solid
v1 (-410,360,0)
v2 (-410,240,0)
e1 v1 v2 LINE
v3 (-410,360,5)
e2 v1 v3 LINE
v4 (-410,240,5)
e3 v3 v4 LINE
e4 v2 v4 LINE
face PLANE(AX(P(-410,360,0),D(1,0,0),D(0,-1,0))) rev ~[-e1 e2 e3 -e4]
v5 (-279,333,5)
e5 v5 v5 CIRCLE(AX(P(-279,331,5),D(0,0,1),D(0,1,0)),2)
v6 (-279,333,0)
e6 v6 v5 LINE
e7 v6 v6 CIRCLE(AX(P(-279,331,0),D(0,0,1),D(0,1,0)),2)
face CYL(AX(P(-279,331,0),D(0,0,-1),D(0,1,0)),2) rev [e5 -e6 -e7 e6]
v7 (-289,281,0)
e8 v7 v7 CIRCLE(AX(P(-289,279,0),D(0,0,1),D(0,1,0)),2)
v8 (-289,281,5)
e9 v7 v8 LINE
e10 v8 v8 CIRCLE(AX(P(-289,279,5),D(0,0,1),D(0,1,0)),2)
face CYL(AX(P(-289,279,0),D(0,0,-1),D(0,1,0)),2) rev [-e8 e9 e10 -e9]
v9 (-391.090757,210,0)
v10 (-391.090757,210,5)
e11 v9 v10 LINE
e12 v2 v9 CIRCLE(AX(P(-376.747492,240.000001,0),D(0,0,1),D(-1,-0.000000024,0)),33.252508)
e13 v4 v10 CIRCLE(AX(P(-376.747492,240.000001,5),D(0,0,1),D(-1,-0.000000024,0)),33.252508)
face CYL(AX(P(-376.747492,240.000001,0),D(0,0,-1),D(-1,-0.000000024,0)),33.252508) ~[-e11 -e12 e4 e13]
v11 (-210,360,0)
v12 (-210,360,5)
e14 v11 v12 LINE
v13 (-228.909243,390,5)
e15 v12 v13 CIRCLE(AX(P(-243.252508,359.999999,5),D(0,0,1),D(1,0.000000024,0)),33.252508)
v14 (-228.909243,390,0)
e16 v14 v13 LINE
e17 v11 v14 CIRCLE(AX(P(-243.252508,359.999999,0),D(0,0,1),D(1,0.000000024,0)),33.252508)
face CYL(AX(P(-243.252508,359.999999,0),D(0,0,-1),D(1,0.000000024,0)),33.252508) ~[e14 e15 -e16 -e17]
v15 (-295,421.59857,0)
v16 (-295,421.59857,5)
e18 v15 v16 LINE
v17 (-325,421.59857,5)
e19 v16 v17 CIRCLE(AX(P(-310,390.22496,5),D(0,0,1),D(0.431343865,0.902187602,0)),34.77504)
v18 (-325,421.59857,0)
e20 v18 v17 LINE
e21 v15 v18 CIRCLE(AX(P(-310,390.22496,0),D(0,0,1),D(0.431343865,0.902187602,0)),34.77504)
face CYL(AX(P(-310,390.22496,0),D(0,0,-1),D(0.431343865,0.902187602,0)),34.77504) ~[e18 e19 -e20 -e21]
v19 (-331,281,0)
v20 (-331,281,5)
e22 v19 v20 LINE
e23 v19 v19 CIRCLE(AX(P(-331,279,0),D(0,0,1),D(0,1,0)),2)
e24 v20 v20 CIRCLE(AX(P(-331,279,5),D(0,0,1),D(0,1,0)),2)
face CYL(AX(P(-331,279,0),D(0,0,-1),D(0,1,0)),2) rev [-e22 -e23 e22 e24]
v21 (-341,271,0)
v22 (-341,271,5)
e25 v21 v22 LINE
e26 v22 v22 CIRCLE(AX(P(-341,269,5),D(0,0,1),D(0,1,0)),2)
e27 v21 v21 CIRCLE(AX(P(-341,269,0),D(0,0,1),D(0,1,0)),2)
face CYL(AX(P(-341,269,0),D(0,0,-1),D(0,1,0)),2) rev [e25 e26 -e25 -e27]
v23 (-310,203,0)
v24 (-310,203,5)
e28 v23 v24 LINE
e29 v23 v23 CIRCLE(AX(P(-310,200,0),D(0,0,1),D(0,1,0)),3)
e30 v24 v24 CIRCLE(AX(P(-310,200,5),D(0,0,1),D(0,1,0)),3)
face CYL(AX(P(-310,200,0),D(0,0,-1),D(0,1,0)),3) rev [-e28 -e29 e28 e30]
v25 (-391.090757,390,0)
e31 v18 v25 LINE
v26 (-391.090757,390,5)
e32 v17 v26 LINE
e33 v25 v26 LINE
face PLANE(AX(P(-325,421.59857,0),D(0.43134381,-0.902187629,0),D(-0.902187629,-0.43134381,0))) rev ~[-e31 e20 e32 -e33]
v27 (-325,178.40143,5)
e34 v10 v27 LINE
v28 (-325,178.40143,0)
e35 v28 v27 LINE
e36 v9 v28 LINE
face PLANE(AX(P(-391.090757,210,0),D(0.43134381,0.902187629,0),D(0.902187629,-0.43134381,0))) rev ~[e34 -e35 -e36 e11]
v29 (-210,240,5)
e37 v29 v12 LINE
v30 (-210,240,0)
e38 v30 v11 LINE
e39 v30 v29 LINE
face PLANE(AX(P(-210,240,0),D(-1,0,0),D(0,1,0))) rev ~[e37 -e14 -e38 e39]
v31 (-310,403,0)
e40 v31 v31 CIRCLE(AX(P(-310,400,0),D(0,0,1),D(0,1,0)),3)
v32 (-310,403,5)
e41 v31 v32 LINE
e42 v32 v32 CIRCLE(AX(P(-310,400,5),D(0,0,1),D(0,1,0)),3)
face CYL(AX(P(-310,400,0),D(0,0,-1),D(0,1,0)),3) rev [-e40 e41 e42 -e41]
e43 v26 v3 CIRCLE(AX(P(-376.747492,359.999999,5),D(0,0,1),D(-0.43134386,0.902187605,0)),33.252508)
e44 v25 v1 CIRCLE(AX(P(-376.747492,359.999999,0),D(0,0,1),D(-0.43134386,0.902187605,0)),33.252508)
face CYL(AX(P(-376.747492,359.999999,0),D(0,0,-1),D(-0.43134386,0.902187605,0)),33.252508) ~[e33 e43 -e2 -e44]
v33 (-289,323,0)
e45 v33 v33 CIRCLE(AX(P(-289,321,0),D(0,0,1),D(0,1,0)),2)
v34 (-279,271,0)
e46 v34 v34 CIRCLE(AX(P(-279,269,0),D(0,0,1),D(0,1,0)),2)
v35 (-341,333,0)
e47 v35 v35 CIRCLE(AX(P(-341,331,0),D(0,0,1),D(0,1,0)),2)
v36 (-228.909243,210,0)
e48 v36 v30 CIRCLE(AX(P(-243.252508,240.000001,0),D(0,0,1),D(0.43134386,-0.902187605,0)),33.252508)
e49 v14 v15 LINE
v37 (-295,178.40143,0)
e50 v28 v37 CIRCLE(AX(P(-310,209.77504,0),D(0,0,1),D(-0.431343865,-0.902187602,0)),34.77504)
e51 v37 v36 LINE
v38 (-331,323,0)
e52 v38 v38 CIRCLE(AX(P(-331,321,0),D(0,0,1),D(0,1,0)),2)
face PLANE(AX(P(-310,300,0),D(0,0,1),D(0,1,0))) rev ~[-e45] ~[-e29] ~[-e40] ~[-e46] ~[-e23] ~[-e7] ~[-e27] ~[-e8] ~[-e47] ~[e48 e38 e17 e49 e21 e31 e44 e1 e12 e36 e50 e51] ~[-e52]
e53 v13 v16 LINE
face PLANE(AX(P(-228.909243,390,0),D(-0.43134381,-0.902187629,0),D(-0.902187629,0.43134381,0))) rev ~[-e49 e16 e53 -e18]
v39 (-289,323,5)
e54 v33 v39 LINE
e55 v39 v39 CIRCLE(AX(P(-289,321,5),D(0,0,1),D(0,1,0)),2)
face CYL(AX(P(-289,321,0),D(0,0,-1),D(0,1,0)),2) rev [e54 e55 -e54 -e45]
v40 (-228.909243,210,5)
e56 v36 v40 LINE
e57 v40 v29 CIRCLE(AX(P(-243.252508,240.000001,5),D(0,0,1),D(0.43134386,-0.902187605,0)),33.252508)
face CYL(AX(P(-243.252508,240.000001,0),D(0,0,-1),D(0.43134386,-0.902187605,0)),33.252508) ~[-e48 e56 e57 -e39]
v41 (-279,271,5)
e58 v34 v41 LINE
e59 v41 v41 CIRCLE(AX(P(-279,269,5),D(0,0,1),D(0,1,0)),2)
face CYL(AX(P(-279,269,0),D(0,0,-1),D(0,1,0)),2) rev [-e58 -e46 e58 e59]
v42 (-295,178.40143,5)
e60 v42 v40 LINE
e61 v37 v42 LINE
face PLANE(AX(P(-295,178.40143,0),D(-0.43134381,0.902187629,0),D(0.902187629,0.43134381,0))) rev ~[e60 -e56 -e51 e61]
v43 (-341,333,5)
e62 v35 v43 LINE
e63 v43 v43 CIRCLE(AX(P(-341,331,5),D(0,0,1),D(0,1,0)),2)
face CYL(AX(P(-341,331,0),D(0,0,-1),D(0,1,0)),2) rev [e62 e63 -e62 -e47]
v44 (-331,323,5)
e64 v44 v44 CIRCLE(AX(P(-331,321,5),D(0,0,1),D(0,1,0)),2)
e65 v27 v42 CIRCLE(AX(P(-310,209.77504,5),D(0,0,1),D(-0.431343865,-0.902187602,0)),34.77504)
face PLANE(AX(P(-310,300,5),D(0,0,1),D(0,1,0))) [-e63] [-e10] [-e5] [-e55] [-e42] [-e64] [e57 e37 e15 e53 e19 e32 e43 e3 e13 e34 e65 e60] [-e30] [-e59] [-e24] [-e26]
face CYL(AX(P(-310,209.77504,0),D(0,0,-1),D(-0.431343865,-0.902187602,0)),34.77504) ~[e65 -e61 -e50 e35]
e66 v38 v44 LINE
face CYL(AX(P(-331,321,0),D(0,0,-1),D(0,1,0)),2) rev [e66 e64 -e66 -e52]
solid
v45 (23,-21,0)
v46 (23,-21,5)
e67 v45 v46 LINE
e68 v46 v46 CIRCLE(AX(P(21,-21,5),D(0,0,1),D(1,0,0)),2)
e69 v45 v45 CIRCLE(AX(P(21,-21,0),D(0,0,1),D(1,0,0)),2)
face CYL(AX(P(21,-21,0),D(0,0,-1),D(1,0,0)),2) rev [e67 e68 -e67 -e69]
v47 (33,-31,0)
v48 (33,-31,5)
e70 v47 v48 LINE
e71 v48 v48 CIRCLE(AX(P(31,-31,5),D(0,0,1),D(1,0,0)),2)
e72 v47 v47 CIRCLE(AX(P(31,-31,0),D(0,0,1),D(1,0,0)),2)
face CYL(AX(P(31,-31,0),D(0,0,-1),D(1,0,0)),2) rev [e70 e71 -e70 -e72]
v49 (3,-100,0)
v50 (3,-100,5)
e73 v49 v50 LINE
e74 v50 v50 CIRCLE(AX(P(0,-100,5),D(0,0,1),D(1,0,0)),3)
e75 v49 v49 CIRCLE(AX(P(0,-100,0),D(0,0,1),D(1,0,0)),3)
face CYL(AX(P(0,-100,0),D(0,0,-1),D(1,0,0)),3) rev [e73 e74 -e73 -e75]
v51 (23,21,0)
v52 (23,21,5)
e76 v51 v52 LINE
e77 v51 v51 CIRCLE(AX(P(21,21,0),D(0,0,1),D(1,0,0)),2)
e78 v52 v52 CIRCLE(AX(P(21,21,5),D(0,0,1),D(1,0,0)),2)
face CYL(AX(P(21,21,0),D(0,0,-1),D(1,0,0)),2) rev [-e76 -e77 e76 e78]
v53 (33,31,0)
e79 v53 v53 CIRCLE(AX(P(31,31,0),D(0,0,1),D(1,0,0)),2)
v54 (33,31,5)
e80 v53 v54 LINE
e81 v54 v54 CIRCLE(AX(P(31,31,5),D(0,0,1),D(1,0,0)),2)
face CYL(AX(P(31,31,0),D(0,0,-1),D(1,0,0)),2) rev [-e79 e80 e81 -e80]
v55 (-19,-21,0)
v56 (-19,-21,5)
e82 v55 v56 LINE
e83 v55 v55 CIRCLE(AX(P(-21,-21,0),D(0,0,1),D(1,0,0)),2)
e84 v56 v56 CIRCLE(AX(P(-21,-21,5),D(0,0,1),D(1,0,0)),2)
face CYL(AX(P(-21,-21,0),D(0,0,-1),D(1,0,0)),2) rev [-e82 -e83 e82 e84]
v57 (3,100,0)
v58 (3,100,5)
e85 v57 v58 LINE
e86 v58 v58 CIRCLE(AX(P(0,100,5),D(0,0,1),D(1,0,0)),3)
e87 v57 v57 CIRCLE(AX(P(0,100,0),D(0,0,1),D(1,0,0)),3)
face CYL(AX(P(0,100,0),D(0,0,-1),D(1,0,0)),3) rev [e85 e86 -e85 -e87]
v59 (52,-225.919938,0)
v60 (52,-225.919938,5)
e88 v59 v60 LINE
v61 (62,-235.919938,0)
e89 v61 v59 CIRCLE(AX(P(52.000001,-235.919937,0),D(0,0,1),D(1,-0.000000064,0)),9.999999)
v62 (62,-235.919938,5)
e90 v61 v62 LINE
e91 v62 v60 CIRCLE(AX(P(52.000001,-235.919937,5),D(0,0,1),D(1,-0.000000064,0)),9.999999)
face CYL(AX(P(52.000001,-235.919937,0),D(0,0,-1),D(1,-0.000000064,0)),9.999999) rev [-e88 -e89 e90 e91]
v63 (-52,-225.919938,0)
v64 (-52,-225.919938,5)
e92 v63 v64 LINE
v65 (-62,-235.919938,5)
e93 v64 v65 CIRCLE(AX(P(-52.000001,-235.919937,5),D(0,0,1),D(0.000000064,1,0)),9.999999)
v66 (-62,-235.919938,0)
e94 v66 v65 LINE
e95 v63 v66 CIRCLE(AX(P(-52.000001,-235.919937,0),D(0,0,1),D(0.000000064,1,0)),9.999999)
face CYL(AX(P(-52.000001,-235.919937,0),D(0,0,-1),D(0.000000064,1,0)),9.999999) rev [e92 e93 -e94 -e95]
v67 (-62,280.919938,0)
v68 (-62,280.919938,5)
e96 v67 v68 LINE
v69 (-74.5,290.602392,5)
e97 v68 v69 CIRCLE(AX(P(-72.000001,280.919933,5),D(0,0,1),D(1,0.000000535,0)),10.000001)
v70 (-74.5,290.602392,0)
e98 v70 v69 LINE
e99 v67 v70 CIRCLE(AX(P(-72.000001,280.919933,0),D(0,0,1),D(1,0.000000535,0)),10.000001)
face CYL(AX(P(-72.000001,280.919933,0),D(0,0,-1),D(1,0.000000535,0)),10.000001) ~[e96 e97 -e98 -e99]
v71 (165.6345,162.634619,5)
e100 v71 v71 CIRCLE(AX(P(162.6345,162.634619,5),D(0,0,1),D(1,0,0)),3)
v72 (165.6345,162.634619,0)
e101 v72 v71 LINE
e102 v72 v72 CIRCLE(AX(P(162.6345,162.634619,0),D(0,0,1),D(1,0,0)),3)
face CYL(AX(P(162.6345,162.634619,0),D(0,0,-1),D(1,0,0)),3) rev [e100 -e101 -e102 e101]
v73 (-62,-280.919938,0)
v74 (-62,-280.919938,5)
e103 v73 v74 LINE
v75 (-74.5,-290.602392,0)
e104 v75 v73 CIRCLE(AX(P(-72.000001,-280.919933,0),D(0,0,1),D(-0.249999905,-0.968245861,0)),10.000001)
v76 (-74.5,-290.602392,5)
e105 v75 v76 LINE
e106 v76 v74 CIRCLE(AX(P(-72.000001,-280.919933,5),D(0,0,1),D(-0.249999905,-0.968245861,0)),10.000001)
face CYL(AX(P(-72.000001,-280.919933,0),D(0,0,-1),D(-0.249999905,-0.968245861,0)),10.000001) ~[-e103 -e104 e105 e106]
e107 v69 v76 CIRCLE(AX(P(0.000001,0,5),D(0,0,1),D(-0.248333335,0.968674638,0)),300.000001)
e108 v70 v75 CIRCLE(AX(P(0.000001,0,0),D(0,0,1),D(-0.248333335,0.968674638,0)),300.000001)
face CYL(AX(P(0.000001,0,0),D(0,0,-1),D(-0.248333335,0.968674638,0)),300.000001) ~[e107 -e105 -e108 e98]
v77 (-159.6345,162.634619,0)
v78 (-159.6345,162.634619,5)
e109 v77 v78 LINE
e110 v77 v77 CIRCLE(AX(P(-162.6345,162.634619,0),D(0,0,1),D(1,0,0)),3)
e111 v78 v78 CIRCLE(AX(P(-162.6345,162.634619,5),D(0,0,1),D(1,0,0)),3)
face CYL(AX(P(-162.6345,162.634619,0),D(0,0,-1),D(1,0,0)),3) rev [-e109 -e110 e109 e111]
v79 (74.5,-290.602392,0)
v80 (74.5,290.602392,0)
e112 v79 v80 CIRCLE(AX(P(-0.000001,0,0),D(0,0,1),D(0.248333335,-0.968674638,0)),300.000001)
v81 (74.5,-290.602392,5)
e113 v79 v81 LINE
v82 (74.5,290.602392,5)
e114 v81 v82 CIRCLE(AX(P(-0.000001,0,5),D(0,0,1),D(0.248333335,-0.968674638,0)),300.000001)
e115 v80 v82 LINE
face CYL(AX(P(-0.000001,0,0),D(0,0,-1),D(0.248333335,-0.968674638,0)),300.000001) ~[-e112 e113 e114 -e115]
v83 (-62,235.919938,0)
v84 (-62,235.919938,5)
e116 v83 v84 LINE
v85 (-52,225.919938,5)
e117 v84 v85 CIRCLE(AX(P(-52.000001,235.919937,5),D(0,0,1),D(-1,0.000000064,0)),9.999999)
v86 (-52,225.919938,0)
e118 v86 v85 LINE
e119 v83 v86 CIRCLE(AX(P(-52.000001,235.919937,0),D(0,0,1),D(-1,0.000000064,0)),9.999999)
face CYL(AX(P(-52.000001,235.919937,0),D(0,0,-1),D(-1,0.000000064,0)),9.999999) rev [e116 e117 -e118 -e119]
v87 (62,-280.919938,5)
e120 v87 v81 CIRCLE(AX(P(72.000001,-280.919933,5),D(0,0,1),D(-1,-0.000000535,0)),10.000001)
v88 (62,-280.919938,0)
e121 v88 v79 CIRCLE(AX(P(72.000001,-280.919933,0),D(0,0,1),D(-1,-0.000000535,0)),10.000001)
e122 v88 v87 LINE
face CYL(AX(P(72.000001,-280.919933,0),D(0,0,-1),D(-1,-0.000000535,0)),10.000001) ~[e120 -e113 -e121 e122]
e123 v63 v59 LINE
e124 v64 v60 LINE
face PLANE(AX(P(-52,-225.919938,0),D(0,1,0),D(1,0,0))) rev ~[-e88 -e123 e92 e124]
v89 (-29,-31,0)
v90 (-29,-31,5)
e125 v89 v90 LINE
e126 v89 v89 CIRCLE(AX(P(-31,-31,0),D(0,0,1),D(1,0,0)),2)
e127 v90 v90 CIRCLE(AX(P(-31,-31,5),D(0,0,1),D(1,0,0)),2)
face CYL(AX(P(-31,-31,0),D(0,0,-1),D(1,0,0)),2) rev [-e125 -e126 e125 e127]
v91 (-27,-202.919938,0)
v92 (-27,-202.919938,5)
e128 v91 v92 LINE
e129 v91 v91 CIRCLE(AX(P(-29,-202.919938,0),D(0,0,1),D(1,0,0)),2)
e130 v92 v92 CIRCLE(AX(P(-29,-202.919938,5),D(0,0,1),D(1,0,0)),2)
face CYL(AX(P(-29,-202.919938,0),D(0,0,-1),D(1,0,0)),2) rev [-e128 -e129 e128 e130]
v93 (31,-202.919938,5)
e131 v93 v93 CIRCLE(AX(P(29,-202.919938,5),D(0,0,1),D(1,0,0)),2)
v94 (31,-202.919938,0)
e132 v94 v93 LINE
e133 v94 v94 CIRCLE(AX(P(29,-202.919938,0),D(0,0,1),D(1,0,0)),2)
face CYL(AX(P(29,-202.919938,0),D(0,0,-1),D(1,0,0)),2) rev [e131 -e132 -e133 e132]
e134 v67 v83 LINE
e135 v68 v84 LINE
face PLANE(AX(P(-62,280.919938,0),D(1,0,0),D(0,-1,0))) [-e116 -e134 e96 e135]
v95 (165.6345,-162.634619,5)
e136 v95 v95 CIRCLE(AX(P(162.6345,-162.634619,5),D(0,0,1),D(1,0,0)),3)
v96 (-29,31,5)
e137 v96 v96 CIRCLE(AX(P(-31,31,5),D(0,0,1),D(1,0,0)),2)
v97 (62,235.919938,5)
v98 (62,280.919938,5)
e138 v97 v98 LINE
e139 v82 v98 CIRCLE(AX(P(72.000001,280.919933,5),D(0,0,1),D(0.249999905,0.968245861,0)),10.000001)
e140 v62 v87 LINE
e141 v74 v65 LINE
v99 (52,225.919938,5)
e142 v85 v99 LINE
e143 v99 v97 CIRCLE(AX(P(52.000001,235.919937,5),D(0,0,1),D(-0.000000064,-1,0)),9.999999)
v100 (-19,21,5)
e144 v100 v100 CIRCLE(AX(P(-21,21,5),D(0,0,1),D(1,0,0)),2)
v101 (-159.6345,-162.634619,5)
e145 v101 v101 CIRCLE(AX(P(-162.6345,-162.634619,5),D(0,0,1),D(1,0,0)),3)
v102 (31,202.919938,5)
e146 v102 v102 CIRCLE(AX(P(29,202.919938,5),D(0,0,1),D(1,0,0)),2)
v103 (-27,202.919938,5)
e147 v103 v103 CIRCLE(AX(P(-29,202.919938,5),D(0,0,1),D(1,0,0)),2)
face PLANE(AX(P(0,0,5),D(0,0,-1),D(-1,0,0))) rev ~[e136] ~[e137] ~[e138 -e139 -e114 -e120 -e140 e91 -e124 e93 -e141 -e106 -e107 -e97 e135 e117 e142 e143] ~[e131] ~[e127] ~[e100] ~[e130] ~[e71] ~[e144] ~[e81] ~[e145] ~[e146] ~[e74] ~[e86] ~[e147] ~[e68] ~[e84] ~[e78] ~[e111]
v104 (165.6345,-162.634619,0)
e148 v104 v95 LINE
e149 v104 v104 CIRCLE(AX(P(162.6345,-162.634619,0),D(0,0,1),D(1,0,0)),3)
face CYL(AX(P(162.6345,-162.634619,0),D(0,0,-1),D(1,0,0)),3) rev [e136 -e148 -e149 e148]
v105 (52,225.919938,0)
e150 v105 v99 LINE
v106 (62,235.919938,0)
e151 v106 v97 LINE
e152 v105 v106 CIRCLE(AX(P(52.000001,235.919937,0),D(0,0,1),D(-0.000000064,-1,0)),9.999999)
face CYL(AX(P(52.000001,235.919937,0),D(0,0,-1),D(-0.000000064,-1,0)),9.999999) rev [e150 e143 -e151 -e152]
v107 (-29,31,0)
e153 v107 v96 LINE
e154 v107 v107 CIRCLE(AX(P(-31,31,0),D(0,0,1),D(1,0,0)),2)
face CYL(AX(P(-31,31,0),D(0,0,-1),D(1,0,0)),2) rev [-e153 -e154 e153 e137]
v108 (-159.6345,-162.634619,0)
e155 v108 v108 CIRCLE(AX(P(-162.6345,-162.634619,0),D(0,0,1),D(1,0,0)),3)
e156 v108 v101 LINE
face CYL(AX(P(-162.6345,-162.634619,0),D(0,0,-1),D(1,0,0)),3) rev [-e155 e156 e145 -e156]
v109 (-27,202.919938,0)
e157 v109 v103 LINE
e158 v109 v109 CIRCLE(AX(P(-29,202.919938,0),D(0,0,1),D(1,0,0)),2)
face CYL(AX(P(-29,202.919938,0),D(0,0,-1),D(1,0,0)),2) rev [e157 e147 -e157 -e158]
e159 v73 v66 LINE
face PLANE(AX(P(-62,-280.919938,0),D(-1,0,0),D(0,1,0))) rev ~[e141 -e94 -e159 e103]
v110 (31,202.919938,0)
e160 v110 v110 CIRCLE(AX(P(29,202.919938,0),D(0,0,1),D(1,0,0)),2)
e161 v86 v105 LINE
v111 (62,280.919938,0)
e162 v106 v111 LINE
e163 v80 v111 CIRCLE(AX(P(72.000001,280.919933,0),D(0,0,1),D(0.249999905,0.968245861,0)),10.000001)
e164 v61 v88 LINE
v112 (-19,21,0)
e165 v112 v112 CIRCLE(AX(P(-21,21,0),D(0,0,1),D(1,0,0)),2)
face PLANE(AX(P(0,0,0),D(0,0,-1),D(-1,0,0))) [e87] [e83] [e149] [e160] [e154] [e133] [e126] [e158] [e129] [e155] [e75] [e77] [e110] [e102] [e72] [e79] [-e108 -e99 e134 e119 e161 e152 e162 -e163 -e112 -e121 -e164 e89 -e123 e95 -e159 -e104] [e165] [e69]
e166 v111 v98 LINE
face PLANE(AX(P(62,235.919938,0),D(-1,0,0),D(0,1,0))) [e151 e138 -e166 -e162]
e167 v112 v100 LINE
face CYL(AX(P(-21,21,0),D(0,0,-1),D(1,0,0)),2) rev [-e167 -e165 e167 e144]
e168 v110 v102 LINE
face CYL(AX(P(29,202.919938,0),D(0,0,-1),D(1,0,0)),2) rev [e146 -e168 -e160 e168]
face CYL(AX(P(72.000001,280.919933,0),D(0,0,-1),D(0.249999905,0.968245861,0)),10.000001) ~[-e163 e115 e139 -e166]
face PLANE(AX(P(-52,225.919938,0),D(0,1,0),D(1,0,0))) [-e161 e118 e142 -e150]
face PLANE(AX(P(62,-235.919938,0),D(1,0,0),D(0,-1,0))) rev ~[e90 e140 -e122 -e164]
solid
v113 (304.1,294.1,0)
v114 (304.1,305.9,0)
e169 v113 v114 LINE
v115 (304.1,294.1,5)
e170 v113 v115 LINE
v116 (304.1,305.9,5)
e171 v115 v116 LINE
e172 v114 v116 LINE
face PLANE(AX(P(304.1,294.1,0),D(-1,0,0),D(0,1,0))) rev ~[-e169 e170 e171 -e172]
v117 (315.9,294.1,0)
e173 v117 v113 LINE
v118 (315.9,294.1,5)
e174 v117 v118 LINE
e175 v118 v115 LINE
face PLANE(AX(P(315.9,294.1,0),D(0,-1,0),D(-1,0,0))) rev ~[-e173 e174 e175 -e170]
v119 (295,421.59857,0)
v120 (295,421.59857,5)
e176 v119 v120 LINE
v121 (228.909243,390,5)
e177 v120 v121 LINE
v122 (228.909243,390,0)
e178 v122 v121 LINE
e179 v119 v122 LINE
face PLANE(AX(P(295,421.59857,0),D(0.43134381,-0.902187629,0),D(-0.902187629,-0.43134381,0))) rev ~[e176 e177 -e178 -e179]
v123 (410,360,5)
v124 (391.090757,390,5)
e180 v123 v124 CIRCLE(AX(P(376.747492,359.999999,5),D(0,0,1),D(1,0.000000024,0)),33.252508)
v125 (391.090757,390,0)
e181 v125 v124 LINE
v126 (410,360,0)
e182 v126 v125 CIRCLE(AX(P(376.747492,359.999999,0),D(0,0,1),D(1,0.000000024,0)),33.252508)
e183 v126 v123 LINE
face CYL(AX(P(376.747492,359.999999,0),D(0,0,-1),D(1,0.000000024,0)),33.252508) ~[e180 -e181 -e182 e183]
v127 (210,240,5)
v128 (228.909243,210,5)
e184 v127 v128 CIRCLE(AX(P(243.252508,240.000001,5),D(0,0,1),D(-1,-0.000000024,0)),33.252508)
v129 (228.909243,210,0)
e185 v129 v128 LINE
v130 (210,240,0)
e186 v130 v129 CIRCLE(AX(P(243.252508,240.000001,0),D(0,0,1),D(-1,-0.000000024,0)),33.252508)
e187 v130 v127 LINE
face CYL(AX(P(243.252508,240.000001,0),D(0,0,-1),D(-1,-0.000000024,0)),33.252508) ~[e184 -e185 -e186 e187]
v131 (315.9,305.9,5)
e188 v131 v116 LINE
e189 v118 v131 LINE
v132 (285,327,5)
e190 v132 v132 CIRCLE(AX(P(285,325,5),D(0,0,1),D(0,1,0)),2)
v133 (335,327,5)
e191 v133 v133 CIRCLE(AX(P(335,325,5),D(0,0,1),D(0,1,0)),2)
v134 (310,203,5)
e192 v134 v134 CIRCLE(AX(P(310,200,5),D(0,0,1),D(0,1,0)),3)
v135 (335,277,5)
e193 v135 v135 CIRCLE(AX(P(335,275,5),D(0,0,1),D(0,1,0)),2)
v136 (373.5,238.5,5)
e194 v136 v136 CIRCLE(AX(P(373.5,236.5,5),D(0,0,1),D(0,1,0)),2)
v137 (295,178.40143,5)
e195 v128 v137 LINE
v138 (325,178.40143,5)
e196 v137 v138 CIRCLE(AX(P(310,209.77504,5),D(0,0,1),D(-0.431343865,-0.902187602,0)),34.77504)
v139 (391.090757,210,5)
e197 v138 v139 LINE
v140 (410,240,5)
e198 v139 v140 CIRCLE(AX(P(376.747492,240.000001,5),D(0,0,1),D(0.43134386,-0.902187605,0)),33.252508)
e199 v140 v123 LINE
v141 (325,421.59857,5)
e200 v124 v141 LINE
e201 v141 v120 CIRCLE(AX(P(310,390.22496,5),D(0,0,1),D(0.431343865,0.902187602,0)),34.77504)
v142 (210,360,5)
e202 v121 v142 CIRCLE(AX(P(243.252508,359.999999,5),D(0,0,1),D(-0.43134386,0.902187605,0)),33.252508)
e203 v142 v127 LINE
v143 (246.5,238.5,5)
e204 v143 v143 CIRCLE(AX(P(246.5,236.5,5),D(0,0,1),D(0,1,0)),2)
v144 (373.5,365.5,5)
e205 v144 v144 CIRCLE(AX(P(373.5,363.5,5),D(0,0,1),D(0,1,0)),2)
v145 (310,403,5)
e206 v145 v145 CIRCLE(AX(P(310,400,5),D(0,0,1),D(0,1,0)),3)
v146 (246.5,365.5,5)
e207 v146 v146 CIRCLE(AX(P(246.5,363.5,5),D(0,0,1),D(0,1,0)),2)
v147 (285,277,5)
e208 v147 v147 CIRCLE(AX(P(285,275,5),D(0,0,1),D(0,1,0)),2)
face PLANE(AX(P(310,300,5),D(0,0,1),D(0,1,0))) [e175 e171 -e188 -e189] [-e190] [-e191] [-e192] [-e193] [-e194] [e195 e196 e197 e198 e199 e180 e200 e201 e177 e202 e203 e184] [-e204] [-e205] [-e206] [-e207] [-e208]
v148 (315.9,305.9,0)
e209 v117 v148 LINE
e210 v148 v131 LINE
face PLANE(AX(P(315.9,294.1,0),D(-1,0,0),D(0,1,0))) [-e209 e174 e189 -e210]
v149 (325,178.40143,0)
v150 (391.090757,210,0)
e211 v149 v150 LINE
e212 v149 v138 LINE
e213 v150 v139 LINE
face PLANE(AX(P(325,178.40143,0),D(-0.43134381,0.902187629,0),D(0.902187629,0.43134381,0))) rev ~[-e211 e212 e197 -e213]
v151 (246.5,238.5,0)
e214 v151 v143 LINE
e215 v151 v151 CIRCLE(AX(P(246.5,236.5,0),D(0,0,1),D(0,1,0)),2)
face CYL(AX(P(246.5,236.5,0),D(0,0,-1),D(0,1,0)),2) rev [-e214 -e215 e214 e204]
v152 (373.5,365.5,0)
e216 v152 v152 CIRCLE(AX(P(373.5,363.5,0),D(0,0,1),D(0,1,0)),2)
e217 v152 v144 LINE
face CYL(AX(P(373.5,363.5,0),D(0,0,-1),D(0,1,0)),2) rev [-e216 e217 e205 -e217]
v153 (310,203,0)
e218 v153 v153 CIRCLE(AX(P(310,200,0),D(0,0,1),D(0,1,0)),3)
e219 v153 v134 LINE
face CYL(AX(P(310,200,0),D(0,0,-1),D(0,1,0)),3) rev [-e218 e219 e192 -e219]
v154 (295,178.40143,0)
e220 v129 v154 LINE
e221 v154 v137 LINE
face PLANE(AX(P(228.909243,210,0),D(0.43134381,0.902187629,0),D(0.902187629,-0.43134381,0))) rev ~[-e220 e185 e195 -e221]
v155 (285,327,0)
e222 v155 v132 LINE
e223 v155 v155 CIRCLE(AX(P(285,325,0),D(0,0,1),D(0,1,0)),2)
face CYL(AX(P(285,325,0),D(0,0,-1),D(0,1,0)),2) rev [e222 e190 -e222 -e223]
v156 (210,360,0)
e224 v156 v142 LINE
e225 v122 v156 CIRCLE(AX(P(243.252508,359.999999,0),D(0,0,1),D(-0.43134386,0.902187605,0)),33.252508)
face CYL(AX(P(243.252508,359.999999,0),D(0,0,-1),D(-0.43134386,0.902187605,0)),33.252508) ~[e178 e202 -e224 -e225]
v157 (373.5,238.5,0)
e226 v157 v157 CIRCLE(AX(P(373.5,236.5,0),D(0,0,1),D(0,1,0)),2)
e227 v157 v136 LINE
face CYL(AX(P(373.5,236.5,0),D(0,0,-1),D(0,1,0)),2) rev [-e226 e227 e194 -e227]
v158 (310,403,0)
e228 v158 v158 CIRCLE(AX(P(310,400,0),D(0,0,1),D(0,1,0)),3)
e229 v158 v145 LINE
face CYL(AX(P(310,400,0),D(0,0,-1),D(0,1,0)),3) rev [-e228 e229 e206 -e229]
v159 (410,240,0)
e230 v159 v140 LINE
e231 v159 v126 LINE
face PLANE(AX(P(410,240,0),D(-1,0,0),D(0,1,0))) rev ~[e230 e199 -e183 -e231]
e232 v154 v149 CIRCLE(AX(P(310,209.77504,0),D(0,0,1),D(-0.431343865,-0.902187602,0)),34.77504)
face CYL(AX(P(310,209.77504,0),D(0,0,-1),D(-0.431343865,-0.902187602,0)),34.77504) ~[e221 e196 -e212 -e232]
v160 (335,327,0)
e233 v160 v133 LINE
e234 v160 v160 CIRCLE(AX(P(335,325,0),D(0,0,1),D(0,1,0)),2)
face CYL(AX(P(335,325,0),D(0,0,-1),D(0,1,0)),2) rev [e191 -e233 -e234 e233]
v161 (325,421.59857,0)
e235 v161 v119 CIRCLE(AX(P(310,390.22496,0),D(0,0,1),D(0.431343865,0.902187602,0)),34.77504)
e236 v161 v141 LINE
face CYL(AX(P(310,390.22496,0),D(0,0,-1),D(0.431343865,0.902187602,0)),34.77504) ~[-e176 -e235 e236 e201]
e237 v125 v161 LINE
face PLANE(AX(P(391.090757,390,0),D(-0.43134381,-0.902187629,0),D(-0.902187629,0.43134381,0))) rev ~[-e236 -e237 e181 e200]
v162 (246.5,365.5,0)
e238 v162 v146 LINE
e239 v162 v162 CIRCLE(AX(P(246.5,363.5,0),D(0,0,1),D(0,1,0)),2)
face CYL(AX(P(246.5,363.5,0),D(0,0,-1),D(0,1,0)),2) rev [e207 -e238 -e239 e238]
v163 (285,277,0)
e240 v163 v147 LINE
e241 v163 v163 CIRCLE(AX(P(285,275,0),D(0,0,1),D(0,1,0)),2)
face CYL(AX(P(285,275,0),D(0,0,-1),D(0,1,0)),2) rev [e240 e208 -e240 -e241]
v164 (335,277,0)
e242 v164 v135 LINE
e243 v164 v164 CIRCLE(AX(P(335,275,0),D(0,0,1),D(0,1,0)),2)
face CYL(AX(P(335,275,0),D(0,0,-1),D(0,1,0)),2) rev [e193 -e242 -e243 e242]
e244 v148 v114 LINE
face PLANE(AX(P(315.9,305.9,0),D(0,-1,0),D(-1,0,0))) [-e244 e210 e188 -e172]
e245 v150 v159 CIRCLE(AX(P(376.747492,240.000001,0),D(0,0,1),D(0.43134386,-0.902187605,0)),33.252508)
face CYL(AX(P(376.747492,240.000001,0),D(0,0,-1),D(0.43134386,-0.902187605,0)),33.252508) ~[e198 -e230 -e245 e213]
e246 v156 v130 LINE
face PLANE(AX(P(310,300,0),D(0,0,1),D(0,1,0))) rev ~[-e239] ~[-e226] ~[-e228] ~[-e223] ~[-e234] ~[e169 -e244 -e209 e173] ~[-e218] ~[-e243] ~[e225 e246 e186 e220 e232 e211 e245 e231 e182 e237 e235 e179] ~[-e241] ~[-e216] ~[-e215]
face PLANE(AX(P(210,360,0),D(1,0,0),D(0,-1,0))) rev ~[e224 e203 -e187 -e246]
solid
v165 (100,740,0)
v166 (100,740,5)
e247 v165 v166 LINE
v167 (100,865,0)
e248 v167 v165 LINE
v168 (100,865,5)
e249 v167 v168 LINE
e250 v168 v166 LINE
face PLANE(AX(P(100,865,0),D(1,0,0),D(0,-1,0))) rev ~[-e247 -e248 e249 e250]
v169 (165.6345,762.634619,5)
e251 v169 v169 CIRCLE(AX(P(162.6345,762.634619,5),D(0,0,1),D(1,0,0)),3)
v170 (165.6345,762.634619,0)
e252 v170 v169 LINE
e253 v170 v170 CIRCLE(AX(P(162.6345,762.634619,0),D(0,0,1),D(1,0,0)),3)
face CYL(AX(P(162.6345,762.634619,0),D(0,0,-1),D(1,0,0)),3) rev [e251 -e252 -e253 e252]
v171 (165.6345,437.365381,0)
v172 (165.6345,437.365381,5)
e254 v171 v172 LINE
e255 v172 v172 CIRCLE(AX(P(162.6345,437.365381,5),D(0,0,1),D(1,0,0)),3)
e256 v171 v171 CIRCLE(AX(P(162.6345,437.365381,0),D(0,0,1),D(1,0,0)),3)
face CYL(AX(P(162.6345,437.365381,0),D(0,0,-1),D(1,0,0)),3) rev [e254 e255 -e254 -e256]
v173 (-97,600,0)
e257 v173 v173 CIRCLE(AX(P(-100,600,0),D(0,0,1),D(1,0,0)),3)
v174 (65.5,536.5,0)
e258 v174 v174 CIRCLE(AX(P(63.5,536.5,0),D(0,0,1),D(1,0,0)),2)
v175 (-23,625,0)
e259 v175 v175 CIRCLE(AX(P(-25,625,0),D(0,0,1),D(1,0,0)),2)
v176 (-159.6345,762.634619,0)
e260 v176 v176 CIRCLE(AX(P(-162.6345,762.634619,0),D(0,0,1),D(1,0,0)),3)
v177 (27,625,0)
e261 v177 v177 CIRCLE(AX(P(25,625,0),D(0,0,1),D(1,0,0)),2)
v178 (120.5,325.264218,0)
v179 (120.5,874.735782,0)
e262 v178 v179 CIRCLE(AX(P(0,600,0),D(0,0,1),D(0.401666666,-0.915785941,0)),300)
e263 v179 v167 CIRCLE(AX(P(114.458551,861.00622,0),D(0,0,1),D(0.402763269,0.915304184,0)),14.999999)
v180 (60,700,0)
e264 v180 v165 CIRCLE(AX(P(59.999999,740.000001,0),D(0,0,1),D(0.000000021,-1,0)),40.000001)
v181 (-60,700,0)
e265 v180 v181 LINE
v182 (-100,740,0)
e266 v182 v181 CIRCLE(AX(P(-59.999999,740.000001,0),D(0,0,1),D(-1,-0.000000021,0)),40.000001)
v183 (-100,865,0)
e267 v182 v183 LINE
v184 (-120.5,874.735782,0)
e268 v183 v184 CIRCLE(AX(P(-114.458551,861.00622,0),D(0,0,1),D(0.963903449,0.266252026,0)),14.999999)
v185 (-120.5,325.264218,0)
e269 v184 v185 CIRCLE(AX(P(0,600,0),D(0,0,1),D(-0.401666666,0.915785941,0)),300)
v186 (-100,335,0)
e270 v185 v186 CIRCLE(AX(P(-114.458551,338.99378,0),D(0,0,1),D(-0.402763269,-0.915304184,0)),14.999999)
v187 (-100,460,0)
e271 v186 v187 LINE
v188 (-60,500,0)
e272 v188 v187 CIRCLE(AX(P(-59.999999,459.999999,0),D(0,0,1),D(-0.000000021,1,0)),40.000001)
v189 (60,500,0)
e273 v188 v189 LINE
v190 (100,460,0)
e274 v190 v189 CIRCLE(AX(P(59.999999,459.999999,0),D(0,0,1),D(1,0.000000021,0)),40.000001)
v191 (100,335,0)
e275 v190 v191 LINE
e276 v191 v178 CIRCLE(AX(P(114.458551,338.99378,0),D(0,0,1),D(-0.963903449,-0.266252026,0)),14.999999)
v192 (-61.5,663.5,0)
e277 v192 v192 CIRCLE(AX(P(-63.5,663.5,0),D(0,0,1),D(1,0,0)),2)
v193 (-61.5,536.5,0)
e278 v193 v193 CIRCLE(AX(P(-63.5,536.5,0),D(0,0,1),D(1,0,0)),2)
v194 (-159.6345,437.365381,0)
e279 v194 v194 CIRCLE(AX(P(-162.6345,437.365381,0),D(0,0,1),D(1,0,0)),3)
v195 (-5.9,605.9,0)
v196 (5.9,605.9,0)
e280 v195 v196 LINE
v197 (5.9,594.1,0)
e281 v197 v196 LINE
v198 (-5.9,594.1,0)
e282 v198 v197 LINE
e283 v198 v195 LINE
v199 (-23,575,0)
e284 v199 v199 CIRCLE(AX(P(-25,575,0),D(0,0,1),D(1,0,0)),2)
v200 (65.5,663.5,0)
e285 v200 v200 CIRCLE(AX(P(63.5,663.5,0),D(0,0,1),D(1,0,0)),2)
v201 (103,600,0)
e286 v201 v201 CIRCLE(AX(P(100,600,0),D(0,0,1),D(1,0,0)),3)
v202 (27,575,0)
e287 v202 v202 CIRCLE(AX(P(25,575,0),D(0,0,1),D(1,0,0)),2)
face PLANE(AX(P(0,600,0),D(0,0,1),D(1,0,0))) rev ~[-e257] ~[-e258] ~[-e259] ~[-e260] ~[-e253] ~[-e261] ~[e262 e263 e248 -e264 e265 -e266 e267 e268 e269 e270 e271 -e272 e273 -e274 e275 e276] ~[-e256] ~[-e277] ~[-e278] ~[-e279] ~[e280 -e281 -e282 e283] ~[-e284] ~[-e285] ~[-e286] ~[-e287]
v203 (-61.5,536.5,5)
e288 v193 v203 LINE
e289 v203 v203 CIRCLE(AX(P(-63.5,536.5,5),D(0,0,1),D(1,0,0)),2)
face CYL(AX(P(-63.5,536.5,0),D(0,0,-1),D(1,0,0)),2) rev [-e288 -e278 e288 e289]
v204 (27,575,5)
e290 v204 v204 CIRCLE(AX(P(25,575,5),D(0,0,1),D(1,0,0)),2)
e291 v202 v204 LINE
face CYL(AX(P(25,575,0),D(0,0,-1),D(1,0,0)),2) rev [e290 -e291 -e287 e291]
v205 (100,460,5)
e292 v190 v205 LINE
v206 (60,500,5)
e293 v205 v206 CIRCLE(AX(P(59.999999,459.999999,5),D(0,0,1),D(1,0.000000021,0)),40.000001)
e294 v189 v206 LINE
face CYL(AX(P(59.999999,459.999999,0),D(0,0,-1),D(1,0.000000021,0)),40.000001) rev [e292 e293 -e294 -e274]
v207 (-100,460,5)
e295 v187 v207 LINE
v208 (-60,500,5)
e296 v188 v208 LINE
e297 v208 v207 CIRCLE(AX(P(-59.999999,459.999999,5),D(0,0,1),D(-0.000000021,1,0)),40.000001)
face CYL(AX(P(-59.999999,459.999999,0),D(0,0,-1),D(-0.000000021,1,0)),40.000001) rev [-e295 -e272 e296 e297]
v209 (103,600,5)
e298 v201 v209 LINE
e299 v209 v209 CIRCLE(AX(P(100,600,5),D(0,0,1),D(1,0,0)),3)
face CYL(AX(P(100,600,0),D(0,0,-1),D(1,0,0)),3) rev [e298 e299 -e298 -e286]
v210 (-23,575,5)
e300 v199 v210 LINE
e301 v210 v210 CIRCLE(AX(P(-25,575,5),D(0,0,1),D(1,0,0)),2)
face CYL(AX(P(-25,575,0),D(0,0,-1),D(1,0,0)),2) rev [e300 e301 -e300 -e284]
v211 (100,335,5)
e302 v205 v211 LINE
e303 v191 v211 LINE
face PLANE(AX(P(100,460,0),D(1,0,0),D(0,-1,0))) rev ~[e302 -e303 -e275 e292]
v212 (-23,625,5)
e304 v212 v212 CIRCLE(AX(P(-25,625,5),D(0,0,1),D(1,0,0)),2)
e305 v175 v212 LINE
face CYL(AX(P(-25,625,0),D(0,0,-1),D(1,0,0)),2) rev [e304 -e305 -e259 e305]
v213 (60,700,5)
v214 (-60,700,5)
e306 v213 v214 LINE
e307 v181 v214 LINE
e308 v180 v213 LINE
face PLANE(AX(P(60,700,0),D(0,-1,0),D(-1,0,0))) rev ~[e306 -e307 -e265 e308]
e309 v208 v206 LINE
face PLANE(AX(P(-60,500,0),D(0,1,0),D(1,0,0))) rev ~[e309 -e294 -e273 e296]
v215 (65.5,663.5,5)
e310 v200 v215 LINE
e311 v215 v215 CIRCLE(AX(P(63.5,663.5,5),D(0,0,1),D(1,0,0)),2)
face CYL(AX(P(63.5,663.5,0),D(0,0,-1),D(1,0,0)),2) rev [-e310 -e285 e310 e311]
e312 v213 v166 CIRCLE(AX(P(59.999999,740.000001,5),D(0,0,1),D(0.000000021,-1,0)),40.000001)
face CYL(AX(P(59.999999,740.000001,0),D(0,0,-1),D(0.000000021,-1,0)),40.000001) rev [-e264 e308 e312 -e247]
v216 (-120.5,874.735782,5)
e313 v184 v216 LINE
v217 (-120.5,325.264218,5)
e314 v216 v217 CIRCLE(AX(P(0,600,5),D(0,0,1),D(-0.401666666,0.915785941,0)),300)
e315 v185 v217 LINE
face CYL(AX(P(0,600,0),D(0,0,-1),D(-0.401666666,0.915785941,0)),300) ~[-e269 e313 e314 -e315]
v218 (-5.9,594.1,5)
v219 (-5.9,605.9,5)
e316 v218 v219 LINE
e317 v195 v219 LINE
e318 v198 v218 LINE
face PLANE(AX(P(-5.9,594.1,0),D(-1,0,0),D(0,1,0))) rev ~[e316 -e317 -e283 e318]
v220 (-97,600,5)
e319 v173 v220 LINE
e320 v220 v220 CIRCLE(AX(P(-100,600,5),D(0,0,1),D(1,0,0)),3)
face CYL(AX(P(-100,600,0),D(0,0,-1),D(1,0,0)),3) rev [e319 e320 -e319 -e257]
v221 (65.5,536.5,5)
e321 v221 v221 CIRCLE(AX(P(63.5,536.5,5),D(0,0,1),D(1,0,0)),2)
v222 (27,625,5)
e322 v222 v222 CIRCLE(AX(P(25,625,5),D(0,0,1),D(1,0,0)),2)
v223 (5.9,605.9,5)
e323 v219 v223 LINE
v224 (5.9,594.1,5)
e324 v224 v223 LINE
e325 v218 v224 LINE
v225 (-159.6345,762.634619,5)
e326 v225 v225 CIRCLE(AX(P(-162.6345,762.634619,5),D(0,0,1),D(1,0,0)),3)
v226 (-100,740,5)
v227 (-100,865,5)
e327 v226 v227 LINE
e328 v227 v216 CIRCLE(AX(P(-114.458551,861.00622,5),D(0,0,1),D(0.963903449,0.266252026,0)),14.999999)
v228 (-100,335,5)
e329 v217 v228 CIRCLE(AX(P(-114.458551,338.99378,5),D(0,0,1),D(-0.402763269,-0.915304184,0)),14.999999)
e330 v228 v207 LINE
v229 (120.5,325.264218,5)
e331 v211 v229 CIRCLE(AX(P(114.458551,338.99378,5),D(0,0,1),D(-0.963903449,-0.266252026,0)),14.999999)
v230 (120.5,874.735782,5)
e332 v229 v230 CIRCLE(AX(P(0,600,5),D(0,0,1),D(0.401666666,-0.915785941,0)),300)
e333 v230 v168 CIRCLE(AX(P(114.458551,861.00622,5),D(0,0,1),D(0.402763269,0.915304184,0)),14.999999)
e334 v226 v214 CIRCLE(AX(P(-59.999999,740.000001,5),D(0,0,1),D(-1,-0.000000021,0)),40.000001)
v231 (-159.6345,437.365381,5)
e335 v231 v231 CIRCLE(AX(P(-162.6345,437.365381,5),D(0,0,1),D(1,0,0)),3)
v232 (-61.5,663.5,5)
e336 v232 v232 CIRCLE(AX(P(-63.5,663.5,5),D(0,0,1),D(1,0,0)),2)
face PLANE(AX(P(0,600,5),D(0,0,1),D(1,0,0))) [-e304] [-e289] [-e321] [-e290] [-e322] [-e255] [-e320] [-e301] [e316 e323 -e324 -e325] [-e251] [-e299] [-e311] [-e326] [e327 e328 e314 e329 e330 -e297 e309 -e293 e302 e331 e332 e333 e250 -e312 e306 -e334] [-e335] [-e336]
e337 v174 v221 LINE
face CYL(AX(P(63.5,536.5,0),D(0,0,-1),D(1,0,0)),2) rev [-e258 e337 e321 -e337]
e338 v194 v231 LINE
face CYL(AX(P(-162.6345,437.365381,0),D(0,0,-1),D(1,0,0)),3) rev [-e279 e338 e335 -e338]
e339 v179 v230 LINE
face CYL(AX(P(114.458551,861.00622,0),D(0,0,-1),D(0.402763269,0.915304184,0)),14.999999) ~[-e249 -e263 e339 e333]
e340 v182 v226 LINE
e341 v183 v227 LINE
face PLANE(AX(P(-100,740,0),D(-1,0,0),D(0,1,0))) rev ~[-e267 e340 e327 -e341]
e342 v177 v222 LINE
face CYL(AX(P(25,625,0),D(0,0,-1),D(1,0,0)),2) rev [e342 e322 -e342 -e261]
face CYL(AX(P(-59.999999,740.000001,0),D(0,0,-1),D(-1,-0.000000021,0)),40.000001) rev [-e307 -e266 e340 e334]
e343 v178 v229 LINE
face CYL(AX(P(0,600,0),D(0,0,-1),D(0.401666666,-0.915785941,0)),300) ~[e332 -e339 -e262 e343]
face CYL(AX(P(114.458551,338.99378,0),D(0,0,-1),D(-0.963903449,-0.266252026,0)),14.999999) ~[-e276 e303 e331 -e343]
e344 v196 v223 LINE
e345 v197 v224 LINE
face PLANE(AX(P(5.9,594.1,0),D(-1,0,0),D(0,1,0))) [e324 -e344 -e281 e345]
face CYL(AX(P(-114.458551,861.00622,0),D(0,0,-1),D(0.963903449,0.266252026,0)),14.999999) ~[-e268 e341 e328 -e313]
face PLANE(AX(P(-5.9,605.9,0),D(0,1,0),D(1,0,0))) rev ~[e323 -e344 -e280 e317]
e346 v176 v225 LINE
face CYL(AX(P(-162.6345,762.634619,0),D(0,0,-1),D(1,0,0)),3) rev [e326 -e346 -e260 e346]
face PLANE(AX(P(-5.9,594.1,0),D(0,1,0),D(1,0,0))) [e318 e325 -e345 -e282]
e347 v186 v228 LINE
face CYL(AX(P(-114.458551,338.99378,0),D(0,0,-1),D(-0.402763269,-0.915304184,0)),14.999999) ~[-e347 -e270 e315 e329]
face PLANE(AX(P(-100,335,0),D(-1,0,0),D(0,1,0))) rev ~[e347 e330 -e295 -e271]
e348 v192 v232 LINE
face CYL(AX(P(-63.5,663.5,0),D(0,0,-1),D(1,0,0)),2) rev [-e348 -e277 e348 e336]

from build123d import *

# Parameters (mm, degrees)
SKETCH001_R   = 3
SKETCH001_R_2 = 2
SKETCH001_W   = 11.8
SKETCH001_H   = 11.8
PAD_DEPTH     = 5
SKETCH_R      = 3
SKETCH_R_2    = 2
SKETCH_W      = 11.8
SKETCH_H      = 11.8
PAD001_DEPTH  = 5
SKETCH002_R   = 3
SKETCH002_R_2 = 2
PAD002_DEPTH  = 5
SKETCH004_R   = 2
SKETCH004_R_2 = 3
PAD004_DEPTH  = 5


with BuildPart() as top:
    # Sketch001 → Pad (new body)
    with BuildSketch(Plane(origin=(0, 600, 0), x_dir=(1, 0, 0), z_dir=(0, 0, 1))):
        with BuildLine():
            Line((100, 265), (100, 140))
            ThreePointArc((60, 100), (88.284271, 111.715729), (100, 140))
            Line((60, 100), (-60, 100))
            ThreePointArc((-100, 140), (-88.284271, 111.715729), (-60, 100))
            Line((-100, 140), (-100, 265))
            ThreePointArc((-100, 265), (-108.023626, 274.555822), (-120.5, 274.735782))
            ThreePointArc((-120.5, 274.735782), (-300, 0), (-120.5, -274.735782))
            ThreePointArc((-120.5, -274.735782), (-108.023626, -274.555822), (-100, -265))
            Line((-100, -265), (-100, -140))
            ThreePointArc((-60, -100), (-88.284271, -111.715729), (-100, -140))
            Line((-60, -100), (60, -100))
            ThreePointArc((100, -140), (88.284271, -111.715729), (60, -100))
            Line((100, -140), (100, -265))
            ThreePointArc((100, -265), (108.023626, -274.555822), (120.5, -274.735782))
            ThreePointArc((120.5, -274.735782), (300, 0), (120.5, 274.735782))
            ThreePointArc((120.5, 274.735782), (108.023626, 274.555822), (100, 265))
        make_face()
        with Locations((100, 0)):
            Circle(SKETCH001_R, mode=Mode.SUBTRACT)
        with Locations((-100, 0)):
            Circle(SKETCH001_R, mode=Mode.SUBTRACT)
        with Locations((-162.6345, 162.634619)):
            Circle(SKETCH001_R, mode=Mode.SUBTRACT)
        with Locations((162.6345, 162.634619)):
            Circle(SKETCH001_R, mode=Mode.SUBTRACT)
        with Locations((-162.6345, -162.634619)):
            Circle(SKETCH001_R, mode=Mode.SUBTRACT)
        with Locations((162.6345, -162.634619)):
            Circle(SKETCH001_R, mode=Mode.SUBTRACT)
        with Locations((-25, 25)):
            Circle(SKETCH001_R_2, mode=Mode.SUBTRACT)
        with Locations((25, -25)):
            Circle(SKETCH001_R_2, mode=Mode.SUBTRACT)
        with Locations((-63.5, 63.5)):
            Circle(SKETCH001_R_2, mode=Mode.SUBTRACT)
        with Locations((25, 25)):
            Circle(SKETCH001_R_2, mode=Mode.SUBTRACT)
        with Locations((63.5, 63.5)):
            Circle(SKETCH001_R_2, mode=Mode.SUBTRACT)
        with Locations((63.5, -63.5)):
            Circle(SKETCH001_R_2, mode=Mode.SUBTRACT)
        with Locations((-25, -25)):
            Circle(SKETCH001_R_2, mode=Mode.SUBTRACT)
        with Locations((-63.5, -63.5)):
            Circle(SKETCH001_R_2, mode=Mode.SUBTRACT)
        Rectangle(SKETCH001_W, SKETCH001_H, mode=Mode.SUBTRACT)
    extrude(amount=PAD_DEPTH)


with BuildPart() as socle_top:
    # Sketch → Pad001 (new body)
    with BuildSketch(Plane(origin=(310, 300, 0), x_dir=(0, 1, 0), z_dir=(0, 0, 1))):
        with BuildLine():
            Line((-60, -100), (60, -100))
            ThreePointArc((60, -100), (77.731043, -94.878247), (90, -81.090757))
            Line((90, -81.090757), (121.59857, -15))
            ThreePointArc((121.59857, -15), (125, 0), (121.59857, 15))
            Line((121.59857, 15), (90, 81.090757))
            ThreePointArc((90, 81.090757), (77.731043, 94.878247), (60, 100))
            Line((60, 100), (-60, 100))
            ThreePointArc((-60, 100), (-77.731043, 94.878247), (-90, 81.090757))
            Line((-90, 81.090757), (-121.59857, 15))
            ThreePointArc((-121.59857, 15), (-125, 0), (-121.59857, -15))
            Line((-121.59857, -15), (-90, -81.090757))
            ThreePointArc((-90, -81.090757), (-77.731043, -94.878247), (-60, -100))
        make_face()
        with Locations((-100, 0)):
            Circle(SKETCH_R, mode=Mode.SUBTRACT)
        with Locations((100, 0)):
            Circle(SKETCH_R, mode=Mode.SUBTRACT)
        with Locations((-25, 25)):
            Circle(SKETCH_R_2, mode=Mode.SUBTRACT)
        with Locations((25, 25)):
            Circle(SKETCH_R_2, mode=Mode.SUBTRACT)
        with Locations((-63.5, 63.5)):
            Circle(SKETCH_R_2, mode=Mode.SUBTRACT)
        with Locations((63.5, 63.5)):
            Circle(SKETCH_R_2, mode=Mode.SUBTRACT)
        with Locations((-63.5, -63.5)):
            Circle(SKETCH_R_2, mode=Mode.SUBTRACT)
        with Locations((63.5, -63.5)):
            Circle(SKETCH_R_2, mode=Mode.SUBTRACT)
        with Locations((-25, -25)):
            Circle(SKETCH_R_2, mode=Mode.SUBTRACT)
        with Locations((25, -25)):
            Circle(SKETCH_R_2, mode=Mode.SUBTRACT)
        Rectangle(SKETCH_W, SKETCH_H, mode=Mode.SUBTRACT)
    extrude(amount=PAD001_DEPTH)


with BuildPart() as socle_bottom:
    # Sketch002 → Pad002 (new body)
    with BuildSketch(Plane(origin=(-310, 300, 0), x_dir=(0, 1, 0), z_dir=(0, 0, 1))):
        with BuildLine():
            Line((-60, -100), (60, -100))
            ThreePointArc((60, -100), (77.731043, -94.878247), (90, -81.090757))
            Line((90, -81.090757), (121.59857, -15))
            ThreePointArc((121.59857, -15), (125, 0), (121.59857, 15))
            Line((121.59857, 15), (90, 81.090757))
            ThreePointArc((90, 81.090757), (77.731043, 94.878247), (60, 100))
            Line((60, 100), (-60, 100))
            ThreePointArc((-60, 100), (-77.731043, 94.878247), (-90, 81.090757))
            Line((-90, 81.090757), (-121.59857, 15))
            ThreePointArc((-121.59857, 15), (-125, 0), (-121.59857, -15))
            Line((-121.59857, -15), (-90, -81.090757))
            ThreePointArc((-90, -81.090757), (-77.731043, -94.878247), (-60, -100))
        make_face()
        with Locations((-100, 0)):
            Circle(SKETCH002_R, mode=Mode.SUBTRACT)
        with Locations((100, 0)):
            Circle(SKETCH002_R, mode=Mode.SUBTRACT)
        with Locations((-21, 21)):
            Circle(SKETCH002_R_2, mode=Mode.SUBTRACT)
        with Locations((21, 21)):
            Circle(SKETCH002_R_2, mode=Mode.SUBTRACT)
        with Locations((-31, 31)):
            Circle(SKETCH002_R_2, mode=Mode.SUBTRACT)
        with Locations((31, 31)):
            Circle(SKETCH002_R_2, mode=Mode.SUBTRACT)
        with Locations((-31, -31)):
            Circle(SKETCH002_R_2, mode=Mode.SUBTRACT)
        with Locations((31, -31)):
            Circle(SKETCH002_R_2, mode=Mode.SUBTRACT)
        with Locations((-21, -21)):
            Circle(SKETCH002_R_2, mode=Mode.SUBTRACT)
        with Locations((21, -21)):
            Circle(SKETCH002_R_2, mode=Mode.SUBTRACT)
    extrude(amount=PAD002_DEPTH)


with BuildPart() as bottom:
    # Sketch004 → Pad004 (new body)
    with BuildSketch(Plane.XY):
        with BuildLine():
            Line((-62, 280.919938), (-62, 235.919938))
            ThreePointArc((-62, 235.919938), (-59.071068, 228.84887), (-52, 225.919938))
            Line((-52, 225.919938), (52, 225.919938))
            ThreePointArc((52, 225.919938), (59.071068, 228.84887), (62, 235.919938))
            Line((62, 235.919938), (62, 280.919938))
            ThreePointArc((74.5, 290.602392), (65.876278, 288.825629), (62, 280.919938))
            ThreePointArc((74.5, -290.602392), (300, 0), (74.5, 290.602392))
            ThreePointArc((62, -280.919938), (65.876278, -288.825629), (74.5, -290.602392))
            Line((62, -235.919938), (62, -280.919938))
            ThreePointArc((62, -235.919938), (59.071068, -228.84887), (52, -225.919938))
            Line((-52, -225.919938), (52, -225.919938))
            ThreePointArc((-52, -225.919938), (-59.071068, -228.84887), (-62, -235.919938))
            Line((-62, -280.919938), (-62, -235.919938))
            ThreePointArc((-74.5, -290.602392), (-65.876278, -288.825629), (-62, -280.919938))
            ThreePointArc((-74.5, 290.602392), (-300, 0), (-74.5, -290.602392))
            ThreePointArc((-62, 280.919938), (-65.876278, 288.825629), (-74.5, 290.602392))
        make_face()
        with Locations((-21, 21)):
            Circle(SKETCH004_R, mode=Mode.SUBTRACT)
        with Locations((-31, 31)):
            Circle(SKETCH004_R, mode=Mode.SUBTRACT)
        with Locations((21, 21)):
            Circle(SKETCH004_R, mode=Mode.SUBTRACT)
        with Locations((31, 31)):
            Circle(SKETCH004_R, mode=Mode.SUBTRACT)
        with Locations((-21, -21)):
            Circle(SKETCH004_R, mode=Mode.SUBTRACT)
        with Locations((-31, -31)):
            Circle(SKETCH004_R, mode=Mode.SUBTRACT)
        with Locations((21, -21)):
            Circle(SKETCH004_R, mode=Mode.SUBTRACT)
        with Locations((31, -31)):
            Circle(SKETCH004_R, mode=Mode.SUBTRACT)
        with Locations((0, 100)):
            Circle(SKETCH004_R_2, mode=Mode.SUBTRACT)
        with Locations((0, -100)):
            Circle(SKETCH004_R_2, mode=Mode.SUBTRACT)
        with Locations((-162.6345, 162.634619)):
            Circle(SKETCH004_R_2, mode=Mode.SUBTRACT)
        with Locations((162.6345, 162.634619)):
            Circle(SKETCH004_R_2, mode=Mode.SUBTRACT)
        with Locations((-162.6345, -162.634619)):
            Circle(SKETCH004_R_2, mode=Mode.SUBTRACT)
        with Locations((162.6345, -162.634619)):
            Circle(SKETCH004_R_2, mode=Mode.SUBTRACT)
        with Locations((-29, 202.919938)):
            Circle(SKETCH004_R, mode=Mode.SUBTRACT)
        with Locations((29, 202.919938)):
            Circle(SKETCH004_R, mode=Mode.SUBTRACT)
        with Locations((-29, -202.919938)):
            Circle(SKETCH004_R, mode=Mode.SUBTRACT)
        with Locations((29, -202.919938)):
            Circle(SKETCH004_R, mode=Mode.SUBTRACT)
    extrude(amount=PAD004_DEPTH)


solid = Compound([top.part, socle_top.part, socle_bottom.part, bottom.part])
